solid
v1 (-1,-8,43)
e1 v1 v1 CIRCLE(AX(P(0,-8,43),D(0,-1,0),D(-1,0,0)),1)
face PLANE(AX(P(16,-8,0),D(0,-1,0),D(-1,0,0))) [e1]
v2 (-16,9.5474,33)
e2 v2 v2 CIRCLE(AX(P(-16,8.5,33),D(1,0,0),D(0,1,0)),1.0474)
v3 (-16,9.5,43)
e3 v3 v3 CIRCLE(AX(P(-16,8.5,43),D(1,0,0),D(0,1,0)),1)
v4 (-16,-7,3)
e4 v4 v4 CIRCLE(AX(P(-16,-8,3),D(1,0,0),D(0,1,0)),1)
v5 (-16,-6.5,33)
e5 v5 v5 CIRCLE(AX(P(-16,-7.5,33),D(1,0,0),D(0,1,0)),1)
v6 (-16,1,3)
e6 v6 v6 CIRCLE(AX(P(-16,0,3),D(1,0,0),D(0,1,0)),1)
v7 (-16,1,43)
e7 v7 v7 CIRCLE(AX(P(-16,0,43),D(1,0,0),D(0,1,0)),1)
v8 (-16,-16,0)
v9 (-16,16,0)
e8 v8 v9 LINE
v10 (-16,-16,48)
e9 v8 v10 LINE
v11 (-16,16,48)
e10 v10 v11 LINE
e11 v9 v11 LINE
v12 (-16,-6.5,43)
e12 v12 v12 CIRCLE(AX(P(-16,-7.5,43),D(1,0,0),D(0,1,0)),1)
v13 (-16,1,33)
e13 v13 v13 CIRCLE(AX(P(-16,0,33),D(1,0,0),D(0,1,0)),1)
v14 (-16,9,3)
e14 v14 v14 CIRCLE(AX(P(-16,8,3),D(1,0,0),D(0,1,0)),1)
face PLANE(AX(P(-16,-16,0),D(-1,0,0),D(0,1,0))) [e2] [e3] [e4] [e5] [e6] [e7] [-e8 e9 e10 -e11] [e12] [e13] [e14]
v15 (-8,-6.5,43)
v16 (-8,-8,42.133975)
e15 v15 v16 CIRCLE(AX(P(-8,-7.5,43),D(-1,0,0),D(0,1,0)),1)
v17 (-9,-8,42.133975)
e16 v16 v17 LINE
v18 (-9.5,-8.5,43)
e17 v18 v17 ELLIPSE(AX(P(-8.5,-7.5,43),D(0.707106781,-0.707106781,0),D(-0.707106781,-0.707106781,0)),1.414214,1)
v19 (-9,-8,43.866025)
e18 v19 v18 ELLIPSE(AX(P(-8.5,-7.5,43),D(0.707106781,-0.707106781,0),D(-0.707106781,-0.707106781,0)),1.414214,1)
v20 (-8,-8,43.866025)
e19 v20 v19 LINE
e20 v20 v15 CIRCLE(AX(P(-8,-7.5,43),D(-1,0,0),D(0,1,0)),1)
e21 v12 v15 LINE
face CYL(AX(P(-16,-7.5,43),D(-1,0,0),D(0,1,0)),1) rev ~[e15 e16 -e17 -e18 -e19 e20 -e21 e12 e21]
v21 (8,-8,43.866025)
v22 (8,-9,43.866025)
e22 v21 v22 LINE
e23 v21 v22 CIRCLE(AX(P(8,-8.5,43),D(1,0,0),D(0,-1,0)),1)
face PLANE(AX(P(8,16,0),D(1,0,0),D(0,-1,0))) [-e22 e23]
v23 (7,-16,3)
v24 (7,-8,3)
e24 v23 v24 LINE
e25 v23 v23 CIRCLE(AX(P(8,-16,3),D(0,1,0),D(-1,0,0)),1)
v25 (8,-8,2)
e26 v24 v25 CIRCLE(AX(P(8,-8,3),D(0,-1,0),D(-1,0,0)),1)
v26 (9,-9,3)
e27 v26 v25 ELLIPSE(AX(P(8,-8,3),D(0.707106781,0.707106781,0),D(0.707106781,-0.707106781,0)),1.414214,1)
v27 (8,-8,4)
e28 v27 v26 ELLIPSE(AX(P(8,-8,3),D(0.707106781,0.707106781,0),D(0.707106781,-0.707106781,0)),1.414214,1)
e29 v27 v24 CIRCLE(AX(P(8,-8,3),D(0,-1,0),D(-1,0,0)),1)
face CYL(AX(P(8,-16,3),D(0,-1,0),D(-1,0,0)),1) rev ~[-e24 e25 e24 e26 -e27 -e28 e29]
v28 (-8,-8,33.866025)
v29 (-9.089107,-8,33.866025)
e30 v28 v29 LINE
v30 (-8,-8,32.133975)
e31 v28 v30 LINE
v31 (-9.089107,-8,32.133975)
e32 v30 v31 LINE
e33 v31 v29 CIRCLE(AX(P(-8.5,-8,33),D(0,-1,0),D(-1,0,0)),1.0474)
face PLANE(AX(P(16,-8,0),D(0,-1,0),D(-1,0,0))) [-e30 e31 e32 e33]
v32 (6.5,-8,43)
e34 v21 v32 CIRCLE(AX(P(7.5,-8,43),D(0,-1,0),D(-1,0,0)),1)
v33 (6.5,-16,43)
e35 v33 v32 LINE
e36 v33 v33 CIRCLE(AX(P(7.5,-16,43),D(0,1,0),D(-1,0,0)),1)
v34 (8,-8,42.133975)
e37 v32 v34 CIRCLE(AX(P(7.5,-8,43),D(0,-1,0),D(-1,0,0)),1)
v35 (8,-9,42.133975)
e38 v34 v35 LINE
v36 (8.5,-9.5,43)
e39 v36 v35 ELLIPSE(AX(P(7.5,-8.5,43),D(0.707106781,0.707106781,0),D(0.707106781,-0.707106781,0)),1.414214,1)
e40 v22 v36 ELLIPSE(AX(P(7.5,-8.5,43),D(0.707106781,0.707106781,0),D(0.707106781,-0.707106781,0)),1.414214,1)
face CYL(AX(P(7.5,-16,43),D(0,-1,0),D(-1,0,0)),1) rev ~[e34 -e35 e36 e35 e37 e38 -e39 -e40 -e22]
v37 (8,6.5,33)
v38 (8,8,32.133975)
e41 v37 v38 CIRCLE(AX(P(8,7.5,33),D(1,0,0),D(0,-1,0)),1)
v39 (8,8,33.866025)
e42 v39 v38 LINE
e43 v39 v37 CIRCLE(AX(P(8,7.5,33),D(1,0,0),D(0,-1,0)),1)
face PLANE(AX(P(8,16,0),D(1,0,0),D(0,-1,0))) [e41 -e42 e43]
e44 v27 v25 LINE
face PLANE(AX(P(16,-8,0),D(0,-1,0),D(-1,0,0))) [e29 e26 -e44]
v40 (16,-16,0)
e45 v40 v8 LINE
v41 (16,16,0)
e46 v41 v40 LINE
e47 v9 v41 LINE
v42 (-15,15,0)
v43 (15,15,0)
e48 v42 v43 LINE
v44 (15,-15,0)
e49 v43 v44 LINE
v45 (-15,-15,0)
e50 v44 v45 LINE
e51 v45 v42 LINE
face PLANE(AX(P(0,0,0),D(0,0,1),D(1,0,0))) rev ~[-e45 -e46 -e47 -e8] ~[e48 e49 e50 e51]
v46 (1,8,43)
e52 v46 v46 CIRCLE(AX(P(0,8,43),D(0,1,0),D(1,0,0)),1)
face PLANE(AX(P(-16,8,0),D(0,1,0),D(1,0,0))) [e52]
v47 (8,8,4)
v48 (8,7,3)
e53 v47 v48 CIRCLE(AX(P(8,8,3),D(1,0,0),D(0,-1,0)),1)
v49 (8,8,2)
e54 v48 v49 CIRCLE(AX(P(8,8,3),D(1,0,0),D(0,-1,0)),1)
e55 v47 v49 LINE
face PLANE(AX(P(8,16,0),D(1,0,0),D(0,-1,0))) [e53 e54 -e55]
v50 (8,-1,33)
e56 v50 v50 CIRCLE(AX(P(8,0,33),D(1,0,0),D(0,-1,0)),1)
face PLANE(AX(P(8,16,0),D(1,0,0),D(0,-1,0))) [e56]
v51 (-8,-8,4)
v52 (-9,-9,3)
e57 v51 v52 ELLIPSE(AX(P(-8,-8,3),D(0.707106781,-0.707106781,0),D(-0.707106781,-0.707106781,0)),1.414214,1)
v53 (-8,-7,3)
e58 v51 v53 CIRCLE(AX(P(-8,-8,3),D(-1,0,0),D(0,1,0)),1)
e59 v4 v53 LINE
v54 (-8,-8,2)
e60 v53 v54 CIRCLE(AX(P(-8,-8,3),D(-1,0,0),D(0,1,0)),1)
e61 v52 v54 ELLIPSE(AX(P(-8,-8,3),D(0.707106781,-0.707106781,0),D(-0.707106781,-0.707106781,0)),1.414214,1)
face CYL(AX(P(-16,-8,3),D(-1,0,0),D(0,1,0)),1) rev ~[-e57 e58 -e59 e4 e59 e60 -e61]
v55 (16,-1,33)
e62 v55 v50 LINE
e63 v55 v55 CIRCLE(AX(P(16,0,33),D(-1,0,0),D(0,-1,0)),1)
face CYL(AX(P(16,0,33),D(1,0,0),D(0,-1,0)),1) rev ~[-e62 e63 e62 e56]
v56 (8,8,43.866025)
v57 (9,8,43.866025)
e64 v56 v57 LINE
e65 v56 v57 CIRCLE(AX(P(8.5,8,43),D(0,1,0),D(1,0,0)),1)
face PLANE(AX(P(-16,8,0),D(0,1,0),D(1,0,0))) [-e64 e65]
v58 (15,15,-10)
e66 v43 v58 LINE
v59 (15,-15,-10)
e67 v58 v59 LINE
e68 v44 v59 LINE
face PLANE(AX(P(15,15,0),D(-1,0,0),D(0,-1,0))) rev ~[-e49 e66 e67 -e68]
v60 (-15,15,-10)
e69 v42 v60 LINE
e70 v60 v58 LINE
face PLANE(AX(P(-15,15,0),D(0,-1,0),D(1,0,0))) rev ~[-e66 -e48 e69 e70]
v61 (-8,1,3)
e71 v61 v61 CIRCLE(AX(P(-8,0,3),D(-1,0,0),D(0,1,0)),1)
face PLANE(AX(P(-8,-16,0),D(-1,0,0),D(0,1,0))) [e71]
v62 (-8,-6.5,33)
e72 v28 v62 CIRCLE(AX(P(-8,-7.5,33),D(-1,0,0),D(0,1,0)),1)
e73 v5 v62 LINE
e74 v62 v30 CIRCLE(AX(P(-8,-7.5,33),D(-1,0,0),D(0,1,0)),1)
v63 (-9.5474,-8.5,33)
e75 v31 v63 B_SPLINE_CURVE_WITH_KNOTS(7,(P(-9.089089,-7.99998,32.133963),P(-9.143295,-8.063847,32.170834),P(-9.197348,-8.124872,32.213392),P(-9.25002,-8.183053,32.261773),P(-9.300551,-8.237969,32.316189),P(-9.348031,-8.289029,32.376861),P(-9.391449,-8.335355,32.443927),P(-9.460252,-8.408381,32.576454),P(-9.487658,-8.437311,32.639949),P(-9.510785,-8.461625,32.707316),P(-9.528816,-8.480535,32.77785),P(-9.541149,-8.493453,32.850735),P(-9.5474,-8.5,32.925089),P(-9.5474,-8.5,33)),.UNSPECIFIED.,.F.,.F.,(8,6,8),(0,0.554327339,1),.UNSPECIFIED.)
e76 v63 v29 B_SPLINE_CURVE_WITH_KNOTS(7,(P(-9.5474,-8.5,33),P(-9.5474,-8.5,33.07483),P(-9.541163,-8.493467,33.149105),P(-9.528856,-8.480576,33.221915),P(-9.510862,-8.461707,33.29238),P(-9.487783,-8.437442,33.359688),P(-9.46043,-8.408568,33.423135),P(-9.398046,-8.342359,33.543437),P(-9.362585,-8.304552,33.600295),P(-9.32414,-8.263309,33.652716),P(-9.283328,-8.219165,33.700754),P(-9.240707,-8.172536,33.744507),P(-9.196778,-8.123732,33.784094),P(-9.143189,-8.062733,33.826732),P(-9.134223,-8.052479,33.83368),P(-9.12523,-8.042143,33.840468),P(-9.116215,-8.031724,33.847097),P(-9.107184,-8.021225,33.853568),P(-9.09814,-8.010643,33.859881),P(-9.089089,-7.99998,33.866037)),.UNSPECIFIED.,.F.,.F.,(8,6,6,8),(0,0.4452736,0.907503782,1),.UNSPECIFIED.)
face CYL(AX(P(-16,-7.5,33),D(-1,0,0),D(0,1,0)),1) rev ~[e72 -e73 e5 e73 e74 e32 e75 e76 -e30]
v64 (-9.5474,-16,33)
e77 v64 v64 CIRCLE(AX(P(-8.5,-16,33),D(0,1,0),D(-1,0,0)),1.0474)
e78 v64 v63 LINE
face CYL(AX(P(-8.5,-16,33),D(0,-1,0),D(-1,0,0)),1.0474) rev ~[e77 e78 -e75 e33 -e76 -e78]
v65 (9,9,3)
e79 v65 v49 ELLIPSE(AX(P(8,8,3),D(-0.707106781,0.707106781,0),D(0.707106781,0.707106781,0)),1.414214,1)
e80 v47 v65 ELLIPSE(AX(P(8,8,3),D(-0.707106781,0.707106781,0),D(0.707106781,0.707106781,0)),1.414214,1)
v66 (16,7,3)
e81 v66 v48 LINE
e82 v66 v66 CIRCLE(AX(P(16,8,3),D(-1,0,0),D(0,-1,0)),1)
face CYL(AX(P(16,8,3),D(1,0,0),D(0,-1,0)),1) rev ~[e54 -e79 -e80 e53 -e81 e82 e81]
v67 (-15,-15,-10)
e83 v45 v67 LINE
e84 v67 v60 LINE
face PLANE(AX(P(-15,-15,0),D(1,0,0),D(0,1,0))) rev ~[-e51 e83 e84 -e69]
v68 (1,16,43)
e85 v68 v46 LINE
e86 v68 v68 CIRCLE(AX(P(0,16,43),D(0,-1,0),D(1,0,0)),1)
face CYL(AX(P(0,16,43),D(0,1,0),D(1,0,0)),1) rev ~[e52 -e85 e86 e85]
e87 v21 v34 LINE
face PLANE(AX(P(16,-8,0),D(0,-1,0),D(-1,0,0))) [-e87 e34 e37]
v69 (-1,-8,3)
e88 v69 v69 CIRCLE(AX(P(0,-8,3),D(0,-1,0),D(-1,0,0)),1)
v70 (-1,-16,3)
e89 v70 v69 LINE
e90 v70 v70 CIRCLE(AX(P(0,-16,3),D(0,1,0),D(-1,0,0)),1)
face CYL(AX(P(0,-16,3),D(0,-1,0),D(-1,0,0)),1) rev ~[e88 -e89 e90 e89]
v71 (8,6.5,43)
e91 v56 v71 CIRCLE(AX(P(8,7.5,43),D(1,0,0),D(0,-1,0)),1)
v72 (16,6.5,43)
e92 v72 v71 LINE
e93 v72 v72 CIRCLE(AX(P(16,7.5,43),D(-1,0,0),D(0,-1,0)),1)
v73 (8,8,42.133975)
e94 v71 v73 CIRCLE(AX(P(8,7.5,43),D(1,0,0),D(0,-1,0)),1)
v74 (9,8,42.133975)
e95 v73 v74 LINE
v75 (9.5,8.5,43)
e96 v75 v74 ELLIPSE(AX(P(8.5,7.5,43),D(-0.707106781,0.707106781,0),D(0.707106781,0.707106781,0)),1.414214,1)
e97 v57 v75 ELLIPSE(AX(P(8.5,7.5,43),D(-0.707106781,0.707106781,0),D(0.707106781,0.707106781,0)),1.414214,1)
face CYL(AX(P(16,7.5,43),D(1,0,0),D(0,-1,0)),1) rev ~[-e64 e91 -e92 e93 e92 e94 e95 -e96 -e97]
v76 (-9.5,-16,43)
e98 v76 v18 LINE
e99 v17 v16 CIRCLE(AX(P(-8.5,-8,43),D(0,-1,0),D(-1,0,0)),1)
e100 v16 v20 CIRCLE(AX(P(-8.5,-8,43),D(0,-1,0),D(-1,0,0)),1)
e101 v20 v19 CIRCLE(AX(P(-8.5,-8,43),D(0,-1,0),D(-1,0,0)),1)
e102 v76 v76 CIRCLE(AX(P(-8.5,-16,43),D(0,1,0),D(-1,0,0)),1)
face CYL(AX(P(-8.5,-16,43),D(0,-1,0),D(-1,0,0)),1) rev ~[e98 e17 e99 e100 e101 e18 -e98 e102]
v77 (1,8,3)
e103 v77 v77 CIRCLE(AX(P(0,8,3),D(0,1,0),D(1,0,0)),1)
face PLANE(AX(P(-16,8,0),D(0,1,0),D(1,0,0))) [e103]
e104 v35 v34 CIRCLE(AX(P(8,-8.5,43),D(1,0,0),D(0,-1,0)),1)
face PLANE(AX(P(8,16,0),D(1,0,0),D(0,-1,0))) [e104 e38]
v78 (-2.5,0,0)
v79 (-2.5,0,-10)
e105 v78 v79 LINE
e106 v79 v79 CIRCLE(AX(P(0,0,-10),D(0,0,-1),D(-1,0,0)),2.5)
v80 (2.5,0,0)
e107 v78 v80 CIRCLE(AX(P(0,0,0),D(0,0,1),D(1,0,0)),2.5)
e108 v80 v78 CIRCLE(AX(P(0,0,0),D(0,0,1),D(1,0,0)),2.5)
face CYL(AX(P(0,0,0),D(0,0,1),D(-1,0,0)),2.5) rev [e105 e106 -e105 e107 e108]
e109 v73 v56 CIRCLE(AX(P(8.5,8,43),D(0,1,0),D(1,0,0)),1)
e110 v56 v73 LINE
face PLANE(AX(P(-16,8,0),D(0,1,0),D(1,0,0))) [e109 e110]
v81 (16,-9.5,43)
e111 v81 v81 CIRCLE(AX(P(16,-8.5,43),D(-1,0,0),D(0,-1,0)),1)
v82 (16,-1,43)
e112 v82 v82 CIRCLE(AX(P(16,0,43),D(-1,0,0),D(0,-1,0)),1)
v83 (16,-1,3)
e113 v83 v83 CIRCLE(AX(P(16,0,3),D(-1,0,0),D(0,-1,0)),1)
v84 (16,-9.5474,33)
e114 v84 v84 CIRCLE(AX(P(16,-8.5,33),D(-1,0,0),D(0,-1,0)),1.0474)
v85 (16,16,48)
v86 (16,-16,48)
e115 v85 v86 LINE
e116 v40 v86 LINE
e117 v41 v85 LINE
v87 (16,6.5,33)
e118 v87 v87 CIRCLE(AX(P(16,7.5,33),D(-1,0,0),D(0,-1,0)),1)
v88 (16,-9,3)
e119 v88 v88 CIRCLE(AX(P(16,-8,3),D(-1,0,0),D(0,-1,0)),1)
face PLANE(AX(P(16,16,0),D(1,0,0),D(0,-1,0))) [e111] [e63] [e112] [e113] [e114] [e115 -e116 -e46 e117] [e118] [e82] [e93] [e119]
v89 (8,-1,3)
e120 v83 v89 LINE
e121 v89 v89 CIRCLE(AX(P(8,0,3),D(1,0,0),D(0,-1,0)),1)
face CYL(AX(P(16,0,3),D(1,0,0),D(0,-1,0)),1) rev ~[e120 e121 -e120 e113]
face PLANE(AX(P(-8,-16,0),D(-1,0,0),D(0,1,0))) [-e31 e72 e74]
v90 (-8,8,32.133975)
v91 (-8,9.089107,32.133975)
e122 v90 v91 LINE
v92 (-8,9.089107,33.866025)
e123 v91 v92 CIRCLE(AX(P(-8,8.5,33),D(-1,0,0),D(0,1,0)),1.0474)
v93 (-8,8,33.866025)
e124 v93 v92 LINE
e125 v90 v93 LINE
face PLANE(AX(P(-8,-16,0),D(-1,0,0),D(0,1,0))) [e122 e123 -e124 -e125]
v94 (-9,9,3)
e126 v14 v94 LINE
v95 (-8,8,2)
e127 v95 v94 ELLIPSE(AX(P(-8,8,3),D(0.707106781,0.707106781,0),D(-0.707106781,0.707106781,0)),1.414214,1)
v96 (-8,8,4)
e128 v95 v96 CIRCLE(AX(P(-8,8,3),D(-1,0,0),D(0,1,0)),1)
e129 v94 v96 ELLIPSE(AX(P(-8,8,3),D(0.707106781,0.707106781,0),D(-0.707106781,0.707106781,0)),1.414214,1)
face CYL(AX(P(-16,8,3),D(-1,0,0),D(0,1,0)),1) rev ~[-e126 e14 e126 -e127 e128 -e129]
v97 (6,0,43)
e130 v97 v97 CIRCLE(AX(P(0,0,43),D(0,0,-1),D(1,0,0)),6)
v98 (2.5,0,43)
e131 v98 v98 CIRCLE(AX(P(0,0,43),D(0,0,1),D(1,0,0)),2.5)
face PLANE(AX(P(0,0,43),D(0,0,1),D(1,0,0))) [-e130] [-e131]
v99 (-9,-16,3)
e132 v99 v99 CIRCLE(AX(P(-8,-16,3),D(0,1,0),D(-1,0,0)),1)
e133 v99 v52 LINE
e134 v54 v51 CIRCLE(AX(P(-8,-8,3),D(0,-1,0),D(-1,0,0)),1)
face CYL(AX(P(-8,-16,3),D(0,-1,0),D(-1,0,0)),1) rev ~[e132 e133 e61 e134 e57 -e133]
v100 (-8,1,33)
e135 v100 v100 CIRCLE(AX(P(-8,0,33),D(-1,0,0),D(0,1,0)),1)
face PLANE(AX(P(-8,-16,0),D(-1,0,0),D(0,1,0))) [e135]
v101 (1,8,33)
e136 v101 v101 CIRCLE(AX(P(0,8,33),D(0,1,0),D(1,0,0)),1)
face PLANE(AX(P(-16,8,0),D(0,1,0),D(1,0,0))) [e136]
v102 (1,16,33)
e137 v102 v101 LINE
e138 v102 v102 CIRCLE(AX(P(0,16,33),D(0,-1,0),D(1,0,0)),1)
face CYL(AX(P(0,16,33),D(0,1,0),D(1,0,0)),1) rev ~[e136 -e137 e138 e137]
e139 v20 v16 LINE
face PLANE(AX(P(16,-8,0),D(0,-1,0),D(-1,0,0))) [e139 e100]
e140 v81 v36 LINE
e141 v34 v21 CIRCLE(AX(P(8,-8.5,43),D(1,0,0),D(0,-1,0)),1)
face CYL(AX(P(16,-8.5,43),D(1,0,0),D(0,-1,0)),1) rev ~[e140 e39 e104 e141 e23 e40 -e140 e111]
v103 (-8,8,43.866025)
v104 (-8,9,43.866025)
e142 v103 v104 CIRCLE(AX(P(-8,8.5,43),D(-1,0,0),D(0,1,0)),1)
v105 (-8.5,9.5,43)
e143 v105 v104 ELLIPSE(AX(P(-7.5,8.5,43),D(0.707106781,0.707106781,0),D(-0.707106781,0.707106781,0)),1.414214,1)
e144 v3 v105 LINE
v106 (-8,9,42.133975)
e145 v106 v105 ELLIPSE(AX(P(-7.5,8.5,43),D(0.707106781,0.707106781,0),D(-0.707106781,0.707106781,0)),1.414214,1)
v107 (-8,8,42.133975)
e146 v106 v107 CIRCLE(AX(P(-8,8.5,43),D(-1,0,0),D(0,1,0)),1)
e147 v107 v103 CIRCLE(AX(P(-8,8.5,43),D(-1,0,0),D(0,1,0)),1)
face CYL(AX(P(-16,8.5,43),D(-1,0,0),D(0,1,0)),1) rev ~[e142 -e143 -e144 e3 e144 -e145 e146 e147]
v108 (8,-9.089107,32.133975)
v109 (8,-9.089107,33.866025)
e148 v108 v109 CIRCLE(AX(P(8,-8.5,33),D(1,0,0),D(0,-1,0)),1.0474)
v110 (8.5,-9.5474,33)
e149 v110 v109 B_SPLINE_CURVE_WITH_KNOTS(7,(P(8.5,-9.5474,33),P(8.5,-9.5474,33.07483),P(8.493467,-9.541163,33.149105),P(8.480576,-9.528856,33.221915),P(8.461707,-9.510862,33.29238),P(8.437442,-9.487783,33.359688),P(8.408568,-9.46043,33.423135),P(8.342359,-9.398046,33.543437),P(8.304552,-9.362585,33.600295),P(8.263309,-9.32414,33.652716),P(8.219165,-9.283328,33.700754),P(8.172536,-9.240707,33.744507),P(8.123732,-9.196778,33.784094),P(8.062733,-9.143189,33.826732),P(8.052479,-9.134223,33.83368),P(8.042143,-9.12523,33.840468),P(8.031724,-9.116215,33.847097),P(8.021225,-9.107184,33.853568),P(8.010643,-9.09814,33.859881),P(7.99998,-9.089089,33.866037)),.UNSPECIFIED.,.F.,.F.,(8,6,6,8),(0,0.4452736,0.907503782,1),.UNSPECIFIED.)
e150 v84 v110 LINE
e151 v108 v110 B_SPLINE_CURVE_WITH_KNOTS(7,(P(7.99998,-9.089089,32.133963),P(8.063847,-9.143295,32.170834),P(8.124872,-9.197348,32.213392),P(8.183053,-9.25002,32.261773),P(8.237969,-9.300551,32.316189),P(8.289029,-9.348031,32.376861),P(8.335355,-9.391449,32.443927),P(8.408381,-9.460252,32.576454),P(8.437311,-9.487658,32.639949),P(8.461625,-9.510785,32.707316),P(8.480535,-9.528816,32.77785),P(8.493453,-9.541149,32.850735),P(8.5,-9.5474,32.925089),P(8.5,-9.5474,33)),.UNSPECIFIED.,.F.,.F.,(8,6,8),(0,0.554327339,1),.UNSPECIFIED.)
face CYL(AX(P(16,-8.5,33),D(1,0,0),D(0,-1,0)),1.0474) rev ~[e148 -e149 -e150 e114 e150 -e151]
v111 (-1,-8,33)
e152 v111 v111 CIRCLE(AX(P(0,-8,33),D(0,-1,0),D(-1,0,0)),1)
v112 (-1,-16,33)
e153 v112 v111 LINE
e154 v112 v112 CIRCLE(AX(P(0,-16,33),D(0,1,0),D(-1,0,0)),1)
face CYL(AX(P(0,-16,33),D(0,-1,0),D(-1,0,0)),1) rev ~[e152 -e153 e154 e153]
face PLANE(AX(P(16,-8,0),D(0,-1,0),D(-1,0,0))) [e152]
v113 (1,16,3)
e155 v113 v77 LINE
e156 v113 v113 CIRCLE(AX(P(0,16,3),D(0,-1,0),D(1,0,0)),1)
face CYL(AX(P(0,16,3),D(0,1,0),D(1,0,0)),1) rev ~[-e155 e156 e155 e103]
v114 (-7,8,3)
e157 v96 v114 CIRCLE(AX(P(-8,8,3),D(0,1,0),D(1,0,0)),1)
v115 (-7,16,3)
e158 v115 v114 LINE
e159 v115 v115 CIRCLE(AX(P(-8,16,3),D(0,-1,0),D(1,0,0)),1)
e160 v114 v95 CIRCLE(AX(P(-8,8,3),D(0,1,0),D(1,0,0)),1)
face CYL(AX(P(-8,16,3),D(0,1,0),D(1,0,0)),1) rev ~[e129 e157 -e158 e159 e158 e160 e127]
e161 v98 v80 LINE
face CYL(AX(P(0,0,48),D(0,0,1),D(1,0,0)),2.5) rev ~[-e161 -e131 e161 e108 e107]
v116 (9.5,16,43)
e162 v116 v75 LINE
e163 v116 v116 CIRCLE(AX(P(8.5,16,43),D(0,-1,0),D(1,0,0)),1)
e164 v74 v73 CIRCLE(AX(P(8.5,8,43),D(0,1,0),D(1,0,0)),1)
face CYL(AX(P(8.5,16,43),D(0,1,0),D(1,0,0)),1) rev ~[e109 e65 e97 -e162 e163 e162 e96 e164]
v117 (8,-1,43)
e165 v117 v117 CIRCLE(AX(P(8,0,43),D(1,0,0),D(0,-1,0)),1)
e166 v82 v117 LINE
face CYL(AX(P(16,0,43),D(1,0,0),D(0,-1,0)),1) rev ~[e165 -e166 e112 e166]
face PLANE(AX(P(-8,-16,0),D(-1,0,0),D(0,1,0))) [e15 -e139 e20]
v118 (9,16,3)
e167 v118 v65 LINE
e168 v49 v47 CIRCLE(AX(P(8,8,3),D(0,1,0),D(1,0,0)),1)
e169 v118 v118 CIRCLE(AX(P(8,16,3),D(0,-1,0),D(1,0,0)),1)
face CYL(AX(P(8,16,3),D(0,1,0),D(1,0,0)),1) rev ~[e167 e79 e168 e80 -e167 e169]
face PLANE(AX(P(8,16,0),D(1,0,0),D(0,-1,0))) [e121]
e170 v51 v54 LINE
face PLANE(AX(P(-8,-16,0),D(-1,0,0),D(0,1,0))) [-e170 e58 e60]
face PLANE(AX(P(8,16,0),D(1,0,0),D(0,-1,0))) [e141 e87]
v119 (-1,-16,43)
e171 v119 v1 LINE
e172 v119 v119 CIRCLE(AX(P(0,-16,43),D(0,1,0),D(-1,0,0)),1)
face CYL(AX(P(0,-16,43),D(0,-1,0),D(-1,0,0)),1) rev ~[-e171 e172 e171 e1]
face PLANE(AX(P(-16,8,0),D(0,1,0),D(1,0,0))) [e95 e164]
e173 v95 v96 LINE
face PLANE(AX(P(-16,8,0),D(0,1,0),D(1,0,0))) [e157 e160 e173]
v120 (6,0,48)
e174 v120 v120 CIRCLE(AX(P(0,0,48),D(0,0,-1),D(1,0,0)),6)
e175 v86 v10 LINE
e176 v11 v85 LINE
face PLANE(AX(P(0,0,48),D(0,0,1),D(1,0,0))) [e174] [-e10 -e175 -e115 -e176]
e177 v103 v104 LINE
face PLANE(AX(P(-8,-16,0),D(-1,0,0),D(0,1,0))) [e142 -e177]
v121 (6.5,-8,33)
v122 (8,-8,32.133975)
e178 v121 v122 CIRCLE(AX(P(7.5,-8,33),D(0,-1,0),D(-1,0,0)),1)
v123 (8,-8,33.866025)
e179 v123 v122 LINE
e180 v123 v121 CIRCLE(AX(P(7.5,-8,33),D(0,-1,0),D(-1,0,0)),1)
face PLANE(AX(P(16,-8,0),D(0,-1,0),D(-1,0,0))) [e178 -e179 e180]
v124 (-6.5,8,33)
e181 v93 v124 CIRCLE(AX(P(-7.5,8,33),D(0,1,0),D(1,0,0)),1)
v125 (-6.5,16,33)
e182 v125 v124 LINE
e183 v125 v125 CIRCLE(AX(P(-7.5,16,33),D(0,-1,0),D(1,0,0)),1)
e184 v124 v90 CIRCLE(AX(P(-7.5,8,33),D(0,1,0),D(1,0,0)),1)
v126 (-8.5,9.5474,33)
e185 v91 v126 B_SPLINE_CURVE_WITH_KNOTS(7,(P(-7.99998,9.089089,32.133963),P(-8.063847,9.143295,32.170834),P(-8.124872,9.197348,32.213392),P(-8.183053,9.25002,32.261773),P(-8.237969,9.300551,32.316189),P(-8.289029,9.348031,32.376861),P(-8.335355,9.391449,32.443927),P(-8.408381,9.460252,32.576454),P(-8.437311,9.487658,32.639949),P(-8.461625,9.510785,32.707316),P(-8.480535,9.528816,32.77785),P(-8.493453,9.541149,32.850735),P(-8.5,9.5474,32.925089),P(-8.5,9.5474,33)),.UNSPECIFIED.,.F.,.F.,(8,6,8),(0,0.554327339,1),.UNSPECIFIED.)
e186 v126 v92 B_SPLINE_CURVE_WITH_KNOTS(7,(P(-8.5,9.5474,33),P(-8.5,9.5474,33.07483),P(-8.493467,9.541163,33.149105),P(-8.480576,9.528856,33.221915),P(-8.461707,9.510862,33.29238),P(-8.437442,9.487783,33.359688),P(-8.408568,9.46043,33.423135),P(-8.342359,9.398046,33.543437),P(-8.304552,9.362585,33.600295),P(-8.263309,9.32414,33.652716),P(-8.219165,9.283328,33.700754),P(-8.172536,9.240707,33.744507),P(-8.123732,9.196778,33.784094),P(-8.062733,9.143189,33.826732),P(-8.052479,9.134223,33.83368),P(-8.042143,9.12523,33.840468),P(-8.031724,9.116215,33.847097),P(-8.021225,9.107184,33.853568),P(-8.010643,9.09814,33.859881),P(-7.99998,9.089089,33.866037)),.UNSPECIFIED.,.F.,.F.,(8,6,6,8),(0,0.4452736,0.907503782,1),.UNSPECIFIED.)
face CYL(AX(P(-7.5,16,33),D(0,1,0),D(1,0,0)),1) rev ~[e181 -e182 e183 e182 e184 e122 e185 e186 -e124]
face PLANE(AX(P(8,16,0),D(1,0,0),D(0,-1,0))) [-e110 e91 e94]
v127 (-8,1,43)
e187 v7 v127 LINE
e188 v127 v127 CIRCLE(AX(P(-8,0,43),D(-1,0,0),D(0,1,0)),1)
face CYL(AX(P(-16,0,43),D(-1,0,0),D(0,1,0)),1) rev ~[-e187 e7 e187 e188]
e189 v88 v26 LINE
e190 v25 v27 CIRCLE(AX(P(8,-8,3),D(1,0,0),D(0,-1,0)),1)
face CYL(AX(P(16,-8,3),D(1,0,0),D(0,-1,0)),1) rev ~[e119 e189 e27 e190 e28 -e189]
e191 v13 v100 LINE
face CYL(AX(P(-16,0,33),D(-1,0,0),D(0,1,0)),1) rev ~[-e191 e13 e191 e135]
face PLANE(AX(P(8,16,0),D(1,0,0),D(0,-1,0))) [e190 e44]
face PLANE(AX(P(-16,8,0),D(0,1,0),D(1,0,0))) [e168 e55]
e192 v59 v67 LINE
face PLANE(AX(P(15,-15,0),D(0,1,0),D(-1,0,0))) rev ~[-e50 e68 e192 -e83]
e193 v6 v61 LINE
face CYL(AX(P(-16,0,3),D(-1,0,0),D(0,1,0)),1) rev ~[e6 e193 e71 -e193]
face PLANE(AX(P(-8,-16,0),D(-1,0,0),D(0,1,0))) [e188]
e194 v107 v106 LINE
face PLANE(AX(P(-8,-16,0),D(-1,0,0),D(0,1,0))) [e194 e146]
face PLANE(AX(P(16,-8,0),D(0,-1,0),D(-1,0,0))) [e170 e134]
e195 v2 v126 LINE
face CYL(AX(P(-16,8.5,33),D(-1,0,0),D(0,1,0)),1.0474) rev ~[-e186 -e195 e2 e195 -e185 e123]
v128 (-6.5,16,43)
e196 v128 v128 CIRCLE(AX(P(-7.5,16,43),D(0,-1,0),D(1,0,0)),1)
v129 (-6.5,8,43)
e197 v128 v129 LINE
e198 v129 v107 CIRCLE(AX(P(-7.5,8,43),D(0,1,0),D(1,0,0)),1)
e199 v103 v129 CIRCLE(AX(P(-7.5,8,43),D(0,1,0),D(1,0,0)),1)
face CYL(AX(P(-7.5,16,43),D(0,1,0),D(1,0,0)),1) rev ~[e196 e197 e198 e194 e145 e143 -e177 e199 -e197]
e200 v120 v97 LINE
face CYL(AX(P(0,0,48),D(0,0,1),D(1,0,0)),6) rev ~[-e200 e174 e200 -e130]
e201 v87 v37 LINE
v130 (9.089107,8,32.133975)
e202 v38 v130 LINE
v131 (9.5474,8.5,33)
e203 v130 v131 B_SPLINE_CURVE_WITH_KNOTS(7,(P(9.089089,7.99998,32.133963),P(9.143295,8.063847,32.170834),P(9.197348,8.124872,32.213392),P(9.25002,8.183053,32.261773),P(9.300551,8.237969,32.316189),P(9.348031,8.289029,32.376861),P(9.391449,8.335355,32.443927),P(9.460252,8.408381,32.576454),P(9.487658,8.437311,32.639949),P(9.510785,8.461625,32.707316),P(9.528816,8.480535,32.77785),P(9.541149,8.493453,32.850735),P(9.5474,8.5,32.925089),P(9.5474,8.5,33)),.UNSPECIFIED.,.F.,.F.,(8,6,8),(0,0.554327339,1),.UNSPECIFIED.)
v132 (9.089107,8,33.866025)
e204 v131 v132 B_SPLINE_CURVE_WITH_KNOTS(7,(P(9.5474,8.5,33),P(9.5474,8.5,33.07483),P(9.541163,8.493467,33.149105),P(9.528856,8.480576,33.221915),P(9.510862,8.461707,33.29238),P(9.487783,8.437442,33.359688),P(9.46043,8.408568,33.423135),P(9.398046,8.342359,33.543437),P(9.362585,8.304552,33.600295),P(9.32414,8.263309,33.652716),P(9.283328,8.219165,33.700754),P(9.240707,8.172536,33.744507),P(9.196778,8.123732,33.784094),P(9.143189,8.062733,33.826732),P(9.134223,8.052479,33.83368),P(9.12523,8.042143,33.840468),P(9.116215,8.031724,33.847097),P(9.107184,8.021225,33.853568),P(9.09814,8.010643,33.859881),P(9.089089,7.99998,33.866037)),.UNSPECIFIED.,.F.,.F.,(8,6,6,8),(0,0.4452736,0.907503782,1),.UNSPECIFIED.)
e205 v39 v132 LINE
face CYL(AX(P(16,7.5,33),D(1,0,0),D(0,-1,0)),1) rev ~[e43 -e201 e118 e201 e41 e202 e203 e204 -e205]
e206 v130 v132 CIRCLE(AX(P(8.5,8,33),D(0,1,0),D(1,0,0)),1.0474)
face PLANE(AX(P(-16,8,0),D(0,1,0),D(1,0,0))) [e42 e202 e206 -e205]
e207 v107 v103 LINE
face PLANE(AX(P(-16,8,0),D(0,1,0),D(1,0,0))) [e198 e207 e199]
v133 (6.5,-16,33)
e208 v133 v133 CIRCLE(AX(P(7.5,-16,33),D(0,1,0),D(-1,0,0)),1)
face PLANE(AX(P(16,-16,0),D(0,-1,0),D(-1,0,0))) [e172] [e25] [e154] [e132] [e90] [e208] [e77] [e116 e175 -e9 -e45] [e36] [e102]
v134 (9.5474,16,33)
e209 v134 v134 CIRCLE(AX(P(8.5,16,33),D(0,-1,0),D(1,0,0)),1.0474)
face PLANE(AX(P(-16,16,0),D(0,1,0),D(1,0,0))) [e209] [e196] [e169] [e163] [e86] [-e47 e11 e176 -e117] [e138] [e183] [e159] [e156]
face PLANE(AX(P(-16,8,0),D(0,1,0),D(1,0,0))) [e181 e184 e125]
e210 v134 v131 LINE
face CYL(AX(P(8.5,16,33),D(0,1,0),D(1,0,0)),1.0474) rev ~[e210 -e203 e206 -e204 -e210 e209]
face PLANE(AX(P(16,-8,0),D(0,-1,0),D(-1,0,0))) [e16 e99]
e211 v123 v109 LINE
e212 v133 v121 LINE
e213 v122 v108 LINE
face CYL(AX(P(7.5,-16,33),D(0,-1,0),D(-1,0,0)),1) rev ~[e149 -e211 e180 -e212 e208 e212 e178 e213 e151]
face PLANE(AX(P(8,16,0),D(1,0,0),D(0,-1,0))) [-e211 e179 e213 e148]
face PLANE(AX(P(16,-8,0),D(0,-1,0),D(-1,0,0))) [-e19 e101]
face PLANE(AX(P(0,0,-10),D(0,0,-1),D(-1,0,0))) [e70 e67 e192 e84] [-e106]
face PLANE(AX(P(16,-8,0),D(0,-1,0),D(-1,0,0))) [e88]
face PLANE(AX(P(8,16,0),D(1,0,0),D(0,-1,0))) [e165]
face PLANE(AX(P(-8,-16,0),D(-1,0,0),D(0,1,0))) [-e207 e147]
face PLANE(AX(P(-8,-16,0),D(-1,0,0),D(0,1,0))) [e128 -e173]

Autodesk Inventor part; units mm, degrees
ref_plane "YZ Plane" through (0, 0, 0) normal (1, 0, 0) x (0, 1, 0)
ref_plane "XZ Plane" through (0, 0, 0) normal (0, 1, 0) x (-1, 0, 0)
ref_plane "XY Plane" through (0, 0, 0) normal (0, 0, 1) x (1, 0, 0)
sketch "Skizze1" plane through (0, 0, 0) normal (0, 0, 1) x (1, 0, 0)
  line L0 (-16, 16) -> (16, 16)
  line L1 (16, 16) -> (16, -16)
  line L2 (16, -16) -> (-16, -16)
  line L3 (-16, -16) -> (-16, 16)
  line L4 (-16, 16) -> (16, -16) construction
  line L5 (16, 16) -> (-16, -16) construction
  point P0 (0, 0)
  dimension "d0" = 32
  dimension "d1" = 32
extrude "Extrusion1" add sketch "Skizze1" along normal blind 48
sketch "Skizze2" plane through (-16, 16, 0) normal (0, 1, 0) x (1, 0, 0)
  line L0 (0, 0) -> (32, 0) construction
  line L1 (0, 0) -> (0, -48) construction
  line L2 (32, -48) -> (0, -48) construction
  line L3 (32, 0) -> (32, -48) construction
  line L4 (5, -43) -> (5, -5)
  line L5 (5, -5) -> (27, -5)
  line L6 (27, -5) -> (27, -43)
  line L7 (27, -43) -> (5, -43)
  line L8 (32, -48) -> (0, -48) projected
  line L9 (16, -48) -> (16, 0)
  circle A0 centre (16, -5) radius 1
  circle A1 centre (8, -5) radius 1
  circle A2 centre (24, -5) radius 1
  circle A3 centre (16, -43) radius 1
  circle A4 centre (8.5, -43) radius 1
  circle A5 centre (24.5, -43) radius 1
  line L10 (27, -33) -> (5, -33)
  circle A6 centre (24.5, -33) radius 1.0474
  circle A7 centre (16, -33) radius 1
  circle A8 centre (8.5, -33) radius 1
  circle A9 centre (8, -3) radius 1
  circle A10 centre (16, -3) radius 1
  circle A11 centre (24, -3) radius 1
  dimension "d4" = 5
  dimension "d5" = 2
  dimension "d6" = 2
  dimension "d7" = 2
  dimension "d8" = 2
  dimension "d9" = 8
  dimension "d10" = 8
  dimension "d11" = 2
  dimension "d12" = 2
  dimension "d23" = 10
  dimension "d31" = 2
  dimension "d32" = 2
  dimension "d33" = 2
  dimension "d37" = 30
  dimension "d38" = 0
  dimension "d39" = 0
extrude "Extrusion2" cut sketch "Skizze2" against normal blind 8 contours A9 | A10 L9 | L9 A10 | A11 | A4 L7 | L7 A4 | A8 L10 | L10 A8 | A3 L9 L7 | L7 L9 A3 | A7 L9 L10 | L10 L9 A7 | L9 A3 L7 | L7 A3 L9 | L10 A7 L9 | L9 A7 L10 | A5 L7 | L7 A5 | A6 L10 | L10 A6
sketch "Skizze3" plane through (0, 0, 48) normal (0, 0, 1) x (1, 0, 0)
  circle A0 centre (0, 0) radius 2.5
  dimension "d15" = 5
extrude "Extrusion3" cut sketch "Skizze3" against normal through all
sketch "Skizze4" plane through (0, 0, 48) normal (0, 0, 1) x (1, 0, 0)
  line L0 (-2.45, 0.55) -> (-42.45, 0.55) projected
  circle A0 centre (0, 0) radius 2.5 projected
  line L1 (16, 16) -> (-16, 16) projected
  line L2 (-16, 16) -> (-16, -16) projected
  line L3 (-16, -16) -> (16, -16) projected
  line L4 (16, -16) -> (16, 16) projected
  circle A1 centre (0, 0) radius 6
  dimension "d18" = 12
extrude "Extrusion4" cut sketch "Skizze4" against normal blind 5 contours A1
sketch "Skizze5" plane through (0, 0, 0) normal (0, 0, -1) x (-1, 0, 0)
  line L0 (-15, -15) -> (15, -15)
  line L1 (15, -15) -> (15, 15)
  line L2 (15, 15) -> (-15, 15)
  line L3 (-15, 15) -> (-15, -15)
  circle A0 centre (0, 0) radius 2.5 projected
  line L4 (-15, -15) -> (15, 15) construction
  line L5 (15, -15) -> (-15, 15) construction
  dimension "d24" = 30
  dimension "d25" = 30
extrude "Extrusion5" add sketch "Skizze5" along normal blind 10
pattern_circular "Runde Anordnung1" count 4 over 360 about axis through (0, 0, 48) along (0, 0, -1) of "Extrusion2"
properties part number "LASER_640nm"
